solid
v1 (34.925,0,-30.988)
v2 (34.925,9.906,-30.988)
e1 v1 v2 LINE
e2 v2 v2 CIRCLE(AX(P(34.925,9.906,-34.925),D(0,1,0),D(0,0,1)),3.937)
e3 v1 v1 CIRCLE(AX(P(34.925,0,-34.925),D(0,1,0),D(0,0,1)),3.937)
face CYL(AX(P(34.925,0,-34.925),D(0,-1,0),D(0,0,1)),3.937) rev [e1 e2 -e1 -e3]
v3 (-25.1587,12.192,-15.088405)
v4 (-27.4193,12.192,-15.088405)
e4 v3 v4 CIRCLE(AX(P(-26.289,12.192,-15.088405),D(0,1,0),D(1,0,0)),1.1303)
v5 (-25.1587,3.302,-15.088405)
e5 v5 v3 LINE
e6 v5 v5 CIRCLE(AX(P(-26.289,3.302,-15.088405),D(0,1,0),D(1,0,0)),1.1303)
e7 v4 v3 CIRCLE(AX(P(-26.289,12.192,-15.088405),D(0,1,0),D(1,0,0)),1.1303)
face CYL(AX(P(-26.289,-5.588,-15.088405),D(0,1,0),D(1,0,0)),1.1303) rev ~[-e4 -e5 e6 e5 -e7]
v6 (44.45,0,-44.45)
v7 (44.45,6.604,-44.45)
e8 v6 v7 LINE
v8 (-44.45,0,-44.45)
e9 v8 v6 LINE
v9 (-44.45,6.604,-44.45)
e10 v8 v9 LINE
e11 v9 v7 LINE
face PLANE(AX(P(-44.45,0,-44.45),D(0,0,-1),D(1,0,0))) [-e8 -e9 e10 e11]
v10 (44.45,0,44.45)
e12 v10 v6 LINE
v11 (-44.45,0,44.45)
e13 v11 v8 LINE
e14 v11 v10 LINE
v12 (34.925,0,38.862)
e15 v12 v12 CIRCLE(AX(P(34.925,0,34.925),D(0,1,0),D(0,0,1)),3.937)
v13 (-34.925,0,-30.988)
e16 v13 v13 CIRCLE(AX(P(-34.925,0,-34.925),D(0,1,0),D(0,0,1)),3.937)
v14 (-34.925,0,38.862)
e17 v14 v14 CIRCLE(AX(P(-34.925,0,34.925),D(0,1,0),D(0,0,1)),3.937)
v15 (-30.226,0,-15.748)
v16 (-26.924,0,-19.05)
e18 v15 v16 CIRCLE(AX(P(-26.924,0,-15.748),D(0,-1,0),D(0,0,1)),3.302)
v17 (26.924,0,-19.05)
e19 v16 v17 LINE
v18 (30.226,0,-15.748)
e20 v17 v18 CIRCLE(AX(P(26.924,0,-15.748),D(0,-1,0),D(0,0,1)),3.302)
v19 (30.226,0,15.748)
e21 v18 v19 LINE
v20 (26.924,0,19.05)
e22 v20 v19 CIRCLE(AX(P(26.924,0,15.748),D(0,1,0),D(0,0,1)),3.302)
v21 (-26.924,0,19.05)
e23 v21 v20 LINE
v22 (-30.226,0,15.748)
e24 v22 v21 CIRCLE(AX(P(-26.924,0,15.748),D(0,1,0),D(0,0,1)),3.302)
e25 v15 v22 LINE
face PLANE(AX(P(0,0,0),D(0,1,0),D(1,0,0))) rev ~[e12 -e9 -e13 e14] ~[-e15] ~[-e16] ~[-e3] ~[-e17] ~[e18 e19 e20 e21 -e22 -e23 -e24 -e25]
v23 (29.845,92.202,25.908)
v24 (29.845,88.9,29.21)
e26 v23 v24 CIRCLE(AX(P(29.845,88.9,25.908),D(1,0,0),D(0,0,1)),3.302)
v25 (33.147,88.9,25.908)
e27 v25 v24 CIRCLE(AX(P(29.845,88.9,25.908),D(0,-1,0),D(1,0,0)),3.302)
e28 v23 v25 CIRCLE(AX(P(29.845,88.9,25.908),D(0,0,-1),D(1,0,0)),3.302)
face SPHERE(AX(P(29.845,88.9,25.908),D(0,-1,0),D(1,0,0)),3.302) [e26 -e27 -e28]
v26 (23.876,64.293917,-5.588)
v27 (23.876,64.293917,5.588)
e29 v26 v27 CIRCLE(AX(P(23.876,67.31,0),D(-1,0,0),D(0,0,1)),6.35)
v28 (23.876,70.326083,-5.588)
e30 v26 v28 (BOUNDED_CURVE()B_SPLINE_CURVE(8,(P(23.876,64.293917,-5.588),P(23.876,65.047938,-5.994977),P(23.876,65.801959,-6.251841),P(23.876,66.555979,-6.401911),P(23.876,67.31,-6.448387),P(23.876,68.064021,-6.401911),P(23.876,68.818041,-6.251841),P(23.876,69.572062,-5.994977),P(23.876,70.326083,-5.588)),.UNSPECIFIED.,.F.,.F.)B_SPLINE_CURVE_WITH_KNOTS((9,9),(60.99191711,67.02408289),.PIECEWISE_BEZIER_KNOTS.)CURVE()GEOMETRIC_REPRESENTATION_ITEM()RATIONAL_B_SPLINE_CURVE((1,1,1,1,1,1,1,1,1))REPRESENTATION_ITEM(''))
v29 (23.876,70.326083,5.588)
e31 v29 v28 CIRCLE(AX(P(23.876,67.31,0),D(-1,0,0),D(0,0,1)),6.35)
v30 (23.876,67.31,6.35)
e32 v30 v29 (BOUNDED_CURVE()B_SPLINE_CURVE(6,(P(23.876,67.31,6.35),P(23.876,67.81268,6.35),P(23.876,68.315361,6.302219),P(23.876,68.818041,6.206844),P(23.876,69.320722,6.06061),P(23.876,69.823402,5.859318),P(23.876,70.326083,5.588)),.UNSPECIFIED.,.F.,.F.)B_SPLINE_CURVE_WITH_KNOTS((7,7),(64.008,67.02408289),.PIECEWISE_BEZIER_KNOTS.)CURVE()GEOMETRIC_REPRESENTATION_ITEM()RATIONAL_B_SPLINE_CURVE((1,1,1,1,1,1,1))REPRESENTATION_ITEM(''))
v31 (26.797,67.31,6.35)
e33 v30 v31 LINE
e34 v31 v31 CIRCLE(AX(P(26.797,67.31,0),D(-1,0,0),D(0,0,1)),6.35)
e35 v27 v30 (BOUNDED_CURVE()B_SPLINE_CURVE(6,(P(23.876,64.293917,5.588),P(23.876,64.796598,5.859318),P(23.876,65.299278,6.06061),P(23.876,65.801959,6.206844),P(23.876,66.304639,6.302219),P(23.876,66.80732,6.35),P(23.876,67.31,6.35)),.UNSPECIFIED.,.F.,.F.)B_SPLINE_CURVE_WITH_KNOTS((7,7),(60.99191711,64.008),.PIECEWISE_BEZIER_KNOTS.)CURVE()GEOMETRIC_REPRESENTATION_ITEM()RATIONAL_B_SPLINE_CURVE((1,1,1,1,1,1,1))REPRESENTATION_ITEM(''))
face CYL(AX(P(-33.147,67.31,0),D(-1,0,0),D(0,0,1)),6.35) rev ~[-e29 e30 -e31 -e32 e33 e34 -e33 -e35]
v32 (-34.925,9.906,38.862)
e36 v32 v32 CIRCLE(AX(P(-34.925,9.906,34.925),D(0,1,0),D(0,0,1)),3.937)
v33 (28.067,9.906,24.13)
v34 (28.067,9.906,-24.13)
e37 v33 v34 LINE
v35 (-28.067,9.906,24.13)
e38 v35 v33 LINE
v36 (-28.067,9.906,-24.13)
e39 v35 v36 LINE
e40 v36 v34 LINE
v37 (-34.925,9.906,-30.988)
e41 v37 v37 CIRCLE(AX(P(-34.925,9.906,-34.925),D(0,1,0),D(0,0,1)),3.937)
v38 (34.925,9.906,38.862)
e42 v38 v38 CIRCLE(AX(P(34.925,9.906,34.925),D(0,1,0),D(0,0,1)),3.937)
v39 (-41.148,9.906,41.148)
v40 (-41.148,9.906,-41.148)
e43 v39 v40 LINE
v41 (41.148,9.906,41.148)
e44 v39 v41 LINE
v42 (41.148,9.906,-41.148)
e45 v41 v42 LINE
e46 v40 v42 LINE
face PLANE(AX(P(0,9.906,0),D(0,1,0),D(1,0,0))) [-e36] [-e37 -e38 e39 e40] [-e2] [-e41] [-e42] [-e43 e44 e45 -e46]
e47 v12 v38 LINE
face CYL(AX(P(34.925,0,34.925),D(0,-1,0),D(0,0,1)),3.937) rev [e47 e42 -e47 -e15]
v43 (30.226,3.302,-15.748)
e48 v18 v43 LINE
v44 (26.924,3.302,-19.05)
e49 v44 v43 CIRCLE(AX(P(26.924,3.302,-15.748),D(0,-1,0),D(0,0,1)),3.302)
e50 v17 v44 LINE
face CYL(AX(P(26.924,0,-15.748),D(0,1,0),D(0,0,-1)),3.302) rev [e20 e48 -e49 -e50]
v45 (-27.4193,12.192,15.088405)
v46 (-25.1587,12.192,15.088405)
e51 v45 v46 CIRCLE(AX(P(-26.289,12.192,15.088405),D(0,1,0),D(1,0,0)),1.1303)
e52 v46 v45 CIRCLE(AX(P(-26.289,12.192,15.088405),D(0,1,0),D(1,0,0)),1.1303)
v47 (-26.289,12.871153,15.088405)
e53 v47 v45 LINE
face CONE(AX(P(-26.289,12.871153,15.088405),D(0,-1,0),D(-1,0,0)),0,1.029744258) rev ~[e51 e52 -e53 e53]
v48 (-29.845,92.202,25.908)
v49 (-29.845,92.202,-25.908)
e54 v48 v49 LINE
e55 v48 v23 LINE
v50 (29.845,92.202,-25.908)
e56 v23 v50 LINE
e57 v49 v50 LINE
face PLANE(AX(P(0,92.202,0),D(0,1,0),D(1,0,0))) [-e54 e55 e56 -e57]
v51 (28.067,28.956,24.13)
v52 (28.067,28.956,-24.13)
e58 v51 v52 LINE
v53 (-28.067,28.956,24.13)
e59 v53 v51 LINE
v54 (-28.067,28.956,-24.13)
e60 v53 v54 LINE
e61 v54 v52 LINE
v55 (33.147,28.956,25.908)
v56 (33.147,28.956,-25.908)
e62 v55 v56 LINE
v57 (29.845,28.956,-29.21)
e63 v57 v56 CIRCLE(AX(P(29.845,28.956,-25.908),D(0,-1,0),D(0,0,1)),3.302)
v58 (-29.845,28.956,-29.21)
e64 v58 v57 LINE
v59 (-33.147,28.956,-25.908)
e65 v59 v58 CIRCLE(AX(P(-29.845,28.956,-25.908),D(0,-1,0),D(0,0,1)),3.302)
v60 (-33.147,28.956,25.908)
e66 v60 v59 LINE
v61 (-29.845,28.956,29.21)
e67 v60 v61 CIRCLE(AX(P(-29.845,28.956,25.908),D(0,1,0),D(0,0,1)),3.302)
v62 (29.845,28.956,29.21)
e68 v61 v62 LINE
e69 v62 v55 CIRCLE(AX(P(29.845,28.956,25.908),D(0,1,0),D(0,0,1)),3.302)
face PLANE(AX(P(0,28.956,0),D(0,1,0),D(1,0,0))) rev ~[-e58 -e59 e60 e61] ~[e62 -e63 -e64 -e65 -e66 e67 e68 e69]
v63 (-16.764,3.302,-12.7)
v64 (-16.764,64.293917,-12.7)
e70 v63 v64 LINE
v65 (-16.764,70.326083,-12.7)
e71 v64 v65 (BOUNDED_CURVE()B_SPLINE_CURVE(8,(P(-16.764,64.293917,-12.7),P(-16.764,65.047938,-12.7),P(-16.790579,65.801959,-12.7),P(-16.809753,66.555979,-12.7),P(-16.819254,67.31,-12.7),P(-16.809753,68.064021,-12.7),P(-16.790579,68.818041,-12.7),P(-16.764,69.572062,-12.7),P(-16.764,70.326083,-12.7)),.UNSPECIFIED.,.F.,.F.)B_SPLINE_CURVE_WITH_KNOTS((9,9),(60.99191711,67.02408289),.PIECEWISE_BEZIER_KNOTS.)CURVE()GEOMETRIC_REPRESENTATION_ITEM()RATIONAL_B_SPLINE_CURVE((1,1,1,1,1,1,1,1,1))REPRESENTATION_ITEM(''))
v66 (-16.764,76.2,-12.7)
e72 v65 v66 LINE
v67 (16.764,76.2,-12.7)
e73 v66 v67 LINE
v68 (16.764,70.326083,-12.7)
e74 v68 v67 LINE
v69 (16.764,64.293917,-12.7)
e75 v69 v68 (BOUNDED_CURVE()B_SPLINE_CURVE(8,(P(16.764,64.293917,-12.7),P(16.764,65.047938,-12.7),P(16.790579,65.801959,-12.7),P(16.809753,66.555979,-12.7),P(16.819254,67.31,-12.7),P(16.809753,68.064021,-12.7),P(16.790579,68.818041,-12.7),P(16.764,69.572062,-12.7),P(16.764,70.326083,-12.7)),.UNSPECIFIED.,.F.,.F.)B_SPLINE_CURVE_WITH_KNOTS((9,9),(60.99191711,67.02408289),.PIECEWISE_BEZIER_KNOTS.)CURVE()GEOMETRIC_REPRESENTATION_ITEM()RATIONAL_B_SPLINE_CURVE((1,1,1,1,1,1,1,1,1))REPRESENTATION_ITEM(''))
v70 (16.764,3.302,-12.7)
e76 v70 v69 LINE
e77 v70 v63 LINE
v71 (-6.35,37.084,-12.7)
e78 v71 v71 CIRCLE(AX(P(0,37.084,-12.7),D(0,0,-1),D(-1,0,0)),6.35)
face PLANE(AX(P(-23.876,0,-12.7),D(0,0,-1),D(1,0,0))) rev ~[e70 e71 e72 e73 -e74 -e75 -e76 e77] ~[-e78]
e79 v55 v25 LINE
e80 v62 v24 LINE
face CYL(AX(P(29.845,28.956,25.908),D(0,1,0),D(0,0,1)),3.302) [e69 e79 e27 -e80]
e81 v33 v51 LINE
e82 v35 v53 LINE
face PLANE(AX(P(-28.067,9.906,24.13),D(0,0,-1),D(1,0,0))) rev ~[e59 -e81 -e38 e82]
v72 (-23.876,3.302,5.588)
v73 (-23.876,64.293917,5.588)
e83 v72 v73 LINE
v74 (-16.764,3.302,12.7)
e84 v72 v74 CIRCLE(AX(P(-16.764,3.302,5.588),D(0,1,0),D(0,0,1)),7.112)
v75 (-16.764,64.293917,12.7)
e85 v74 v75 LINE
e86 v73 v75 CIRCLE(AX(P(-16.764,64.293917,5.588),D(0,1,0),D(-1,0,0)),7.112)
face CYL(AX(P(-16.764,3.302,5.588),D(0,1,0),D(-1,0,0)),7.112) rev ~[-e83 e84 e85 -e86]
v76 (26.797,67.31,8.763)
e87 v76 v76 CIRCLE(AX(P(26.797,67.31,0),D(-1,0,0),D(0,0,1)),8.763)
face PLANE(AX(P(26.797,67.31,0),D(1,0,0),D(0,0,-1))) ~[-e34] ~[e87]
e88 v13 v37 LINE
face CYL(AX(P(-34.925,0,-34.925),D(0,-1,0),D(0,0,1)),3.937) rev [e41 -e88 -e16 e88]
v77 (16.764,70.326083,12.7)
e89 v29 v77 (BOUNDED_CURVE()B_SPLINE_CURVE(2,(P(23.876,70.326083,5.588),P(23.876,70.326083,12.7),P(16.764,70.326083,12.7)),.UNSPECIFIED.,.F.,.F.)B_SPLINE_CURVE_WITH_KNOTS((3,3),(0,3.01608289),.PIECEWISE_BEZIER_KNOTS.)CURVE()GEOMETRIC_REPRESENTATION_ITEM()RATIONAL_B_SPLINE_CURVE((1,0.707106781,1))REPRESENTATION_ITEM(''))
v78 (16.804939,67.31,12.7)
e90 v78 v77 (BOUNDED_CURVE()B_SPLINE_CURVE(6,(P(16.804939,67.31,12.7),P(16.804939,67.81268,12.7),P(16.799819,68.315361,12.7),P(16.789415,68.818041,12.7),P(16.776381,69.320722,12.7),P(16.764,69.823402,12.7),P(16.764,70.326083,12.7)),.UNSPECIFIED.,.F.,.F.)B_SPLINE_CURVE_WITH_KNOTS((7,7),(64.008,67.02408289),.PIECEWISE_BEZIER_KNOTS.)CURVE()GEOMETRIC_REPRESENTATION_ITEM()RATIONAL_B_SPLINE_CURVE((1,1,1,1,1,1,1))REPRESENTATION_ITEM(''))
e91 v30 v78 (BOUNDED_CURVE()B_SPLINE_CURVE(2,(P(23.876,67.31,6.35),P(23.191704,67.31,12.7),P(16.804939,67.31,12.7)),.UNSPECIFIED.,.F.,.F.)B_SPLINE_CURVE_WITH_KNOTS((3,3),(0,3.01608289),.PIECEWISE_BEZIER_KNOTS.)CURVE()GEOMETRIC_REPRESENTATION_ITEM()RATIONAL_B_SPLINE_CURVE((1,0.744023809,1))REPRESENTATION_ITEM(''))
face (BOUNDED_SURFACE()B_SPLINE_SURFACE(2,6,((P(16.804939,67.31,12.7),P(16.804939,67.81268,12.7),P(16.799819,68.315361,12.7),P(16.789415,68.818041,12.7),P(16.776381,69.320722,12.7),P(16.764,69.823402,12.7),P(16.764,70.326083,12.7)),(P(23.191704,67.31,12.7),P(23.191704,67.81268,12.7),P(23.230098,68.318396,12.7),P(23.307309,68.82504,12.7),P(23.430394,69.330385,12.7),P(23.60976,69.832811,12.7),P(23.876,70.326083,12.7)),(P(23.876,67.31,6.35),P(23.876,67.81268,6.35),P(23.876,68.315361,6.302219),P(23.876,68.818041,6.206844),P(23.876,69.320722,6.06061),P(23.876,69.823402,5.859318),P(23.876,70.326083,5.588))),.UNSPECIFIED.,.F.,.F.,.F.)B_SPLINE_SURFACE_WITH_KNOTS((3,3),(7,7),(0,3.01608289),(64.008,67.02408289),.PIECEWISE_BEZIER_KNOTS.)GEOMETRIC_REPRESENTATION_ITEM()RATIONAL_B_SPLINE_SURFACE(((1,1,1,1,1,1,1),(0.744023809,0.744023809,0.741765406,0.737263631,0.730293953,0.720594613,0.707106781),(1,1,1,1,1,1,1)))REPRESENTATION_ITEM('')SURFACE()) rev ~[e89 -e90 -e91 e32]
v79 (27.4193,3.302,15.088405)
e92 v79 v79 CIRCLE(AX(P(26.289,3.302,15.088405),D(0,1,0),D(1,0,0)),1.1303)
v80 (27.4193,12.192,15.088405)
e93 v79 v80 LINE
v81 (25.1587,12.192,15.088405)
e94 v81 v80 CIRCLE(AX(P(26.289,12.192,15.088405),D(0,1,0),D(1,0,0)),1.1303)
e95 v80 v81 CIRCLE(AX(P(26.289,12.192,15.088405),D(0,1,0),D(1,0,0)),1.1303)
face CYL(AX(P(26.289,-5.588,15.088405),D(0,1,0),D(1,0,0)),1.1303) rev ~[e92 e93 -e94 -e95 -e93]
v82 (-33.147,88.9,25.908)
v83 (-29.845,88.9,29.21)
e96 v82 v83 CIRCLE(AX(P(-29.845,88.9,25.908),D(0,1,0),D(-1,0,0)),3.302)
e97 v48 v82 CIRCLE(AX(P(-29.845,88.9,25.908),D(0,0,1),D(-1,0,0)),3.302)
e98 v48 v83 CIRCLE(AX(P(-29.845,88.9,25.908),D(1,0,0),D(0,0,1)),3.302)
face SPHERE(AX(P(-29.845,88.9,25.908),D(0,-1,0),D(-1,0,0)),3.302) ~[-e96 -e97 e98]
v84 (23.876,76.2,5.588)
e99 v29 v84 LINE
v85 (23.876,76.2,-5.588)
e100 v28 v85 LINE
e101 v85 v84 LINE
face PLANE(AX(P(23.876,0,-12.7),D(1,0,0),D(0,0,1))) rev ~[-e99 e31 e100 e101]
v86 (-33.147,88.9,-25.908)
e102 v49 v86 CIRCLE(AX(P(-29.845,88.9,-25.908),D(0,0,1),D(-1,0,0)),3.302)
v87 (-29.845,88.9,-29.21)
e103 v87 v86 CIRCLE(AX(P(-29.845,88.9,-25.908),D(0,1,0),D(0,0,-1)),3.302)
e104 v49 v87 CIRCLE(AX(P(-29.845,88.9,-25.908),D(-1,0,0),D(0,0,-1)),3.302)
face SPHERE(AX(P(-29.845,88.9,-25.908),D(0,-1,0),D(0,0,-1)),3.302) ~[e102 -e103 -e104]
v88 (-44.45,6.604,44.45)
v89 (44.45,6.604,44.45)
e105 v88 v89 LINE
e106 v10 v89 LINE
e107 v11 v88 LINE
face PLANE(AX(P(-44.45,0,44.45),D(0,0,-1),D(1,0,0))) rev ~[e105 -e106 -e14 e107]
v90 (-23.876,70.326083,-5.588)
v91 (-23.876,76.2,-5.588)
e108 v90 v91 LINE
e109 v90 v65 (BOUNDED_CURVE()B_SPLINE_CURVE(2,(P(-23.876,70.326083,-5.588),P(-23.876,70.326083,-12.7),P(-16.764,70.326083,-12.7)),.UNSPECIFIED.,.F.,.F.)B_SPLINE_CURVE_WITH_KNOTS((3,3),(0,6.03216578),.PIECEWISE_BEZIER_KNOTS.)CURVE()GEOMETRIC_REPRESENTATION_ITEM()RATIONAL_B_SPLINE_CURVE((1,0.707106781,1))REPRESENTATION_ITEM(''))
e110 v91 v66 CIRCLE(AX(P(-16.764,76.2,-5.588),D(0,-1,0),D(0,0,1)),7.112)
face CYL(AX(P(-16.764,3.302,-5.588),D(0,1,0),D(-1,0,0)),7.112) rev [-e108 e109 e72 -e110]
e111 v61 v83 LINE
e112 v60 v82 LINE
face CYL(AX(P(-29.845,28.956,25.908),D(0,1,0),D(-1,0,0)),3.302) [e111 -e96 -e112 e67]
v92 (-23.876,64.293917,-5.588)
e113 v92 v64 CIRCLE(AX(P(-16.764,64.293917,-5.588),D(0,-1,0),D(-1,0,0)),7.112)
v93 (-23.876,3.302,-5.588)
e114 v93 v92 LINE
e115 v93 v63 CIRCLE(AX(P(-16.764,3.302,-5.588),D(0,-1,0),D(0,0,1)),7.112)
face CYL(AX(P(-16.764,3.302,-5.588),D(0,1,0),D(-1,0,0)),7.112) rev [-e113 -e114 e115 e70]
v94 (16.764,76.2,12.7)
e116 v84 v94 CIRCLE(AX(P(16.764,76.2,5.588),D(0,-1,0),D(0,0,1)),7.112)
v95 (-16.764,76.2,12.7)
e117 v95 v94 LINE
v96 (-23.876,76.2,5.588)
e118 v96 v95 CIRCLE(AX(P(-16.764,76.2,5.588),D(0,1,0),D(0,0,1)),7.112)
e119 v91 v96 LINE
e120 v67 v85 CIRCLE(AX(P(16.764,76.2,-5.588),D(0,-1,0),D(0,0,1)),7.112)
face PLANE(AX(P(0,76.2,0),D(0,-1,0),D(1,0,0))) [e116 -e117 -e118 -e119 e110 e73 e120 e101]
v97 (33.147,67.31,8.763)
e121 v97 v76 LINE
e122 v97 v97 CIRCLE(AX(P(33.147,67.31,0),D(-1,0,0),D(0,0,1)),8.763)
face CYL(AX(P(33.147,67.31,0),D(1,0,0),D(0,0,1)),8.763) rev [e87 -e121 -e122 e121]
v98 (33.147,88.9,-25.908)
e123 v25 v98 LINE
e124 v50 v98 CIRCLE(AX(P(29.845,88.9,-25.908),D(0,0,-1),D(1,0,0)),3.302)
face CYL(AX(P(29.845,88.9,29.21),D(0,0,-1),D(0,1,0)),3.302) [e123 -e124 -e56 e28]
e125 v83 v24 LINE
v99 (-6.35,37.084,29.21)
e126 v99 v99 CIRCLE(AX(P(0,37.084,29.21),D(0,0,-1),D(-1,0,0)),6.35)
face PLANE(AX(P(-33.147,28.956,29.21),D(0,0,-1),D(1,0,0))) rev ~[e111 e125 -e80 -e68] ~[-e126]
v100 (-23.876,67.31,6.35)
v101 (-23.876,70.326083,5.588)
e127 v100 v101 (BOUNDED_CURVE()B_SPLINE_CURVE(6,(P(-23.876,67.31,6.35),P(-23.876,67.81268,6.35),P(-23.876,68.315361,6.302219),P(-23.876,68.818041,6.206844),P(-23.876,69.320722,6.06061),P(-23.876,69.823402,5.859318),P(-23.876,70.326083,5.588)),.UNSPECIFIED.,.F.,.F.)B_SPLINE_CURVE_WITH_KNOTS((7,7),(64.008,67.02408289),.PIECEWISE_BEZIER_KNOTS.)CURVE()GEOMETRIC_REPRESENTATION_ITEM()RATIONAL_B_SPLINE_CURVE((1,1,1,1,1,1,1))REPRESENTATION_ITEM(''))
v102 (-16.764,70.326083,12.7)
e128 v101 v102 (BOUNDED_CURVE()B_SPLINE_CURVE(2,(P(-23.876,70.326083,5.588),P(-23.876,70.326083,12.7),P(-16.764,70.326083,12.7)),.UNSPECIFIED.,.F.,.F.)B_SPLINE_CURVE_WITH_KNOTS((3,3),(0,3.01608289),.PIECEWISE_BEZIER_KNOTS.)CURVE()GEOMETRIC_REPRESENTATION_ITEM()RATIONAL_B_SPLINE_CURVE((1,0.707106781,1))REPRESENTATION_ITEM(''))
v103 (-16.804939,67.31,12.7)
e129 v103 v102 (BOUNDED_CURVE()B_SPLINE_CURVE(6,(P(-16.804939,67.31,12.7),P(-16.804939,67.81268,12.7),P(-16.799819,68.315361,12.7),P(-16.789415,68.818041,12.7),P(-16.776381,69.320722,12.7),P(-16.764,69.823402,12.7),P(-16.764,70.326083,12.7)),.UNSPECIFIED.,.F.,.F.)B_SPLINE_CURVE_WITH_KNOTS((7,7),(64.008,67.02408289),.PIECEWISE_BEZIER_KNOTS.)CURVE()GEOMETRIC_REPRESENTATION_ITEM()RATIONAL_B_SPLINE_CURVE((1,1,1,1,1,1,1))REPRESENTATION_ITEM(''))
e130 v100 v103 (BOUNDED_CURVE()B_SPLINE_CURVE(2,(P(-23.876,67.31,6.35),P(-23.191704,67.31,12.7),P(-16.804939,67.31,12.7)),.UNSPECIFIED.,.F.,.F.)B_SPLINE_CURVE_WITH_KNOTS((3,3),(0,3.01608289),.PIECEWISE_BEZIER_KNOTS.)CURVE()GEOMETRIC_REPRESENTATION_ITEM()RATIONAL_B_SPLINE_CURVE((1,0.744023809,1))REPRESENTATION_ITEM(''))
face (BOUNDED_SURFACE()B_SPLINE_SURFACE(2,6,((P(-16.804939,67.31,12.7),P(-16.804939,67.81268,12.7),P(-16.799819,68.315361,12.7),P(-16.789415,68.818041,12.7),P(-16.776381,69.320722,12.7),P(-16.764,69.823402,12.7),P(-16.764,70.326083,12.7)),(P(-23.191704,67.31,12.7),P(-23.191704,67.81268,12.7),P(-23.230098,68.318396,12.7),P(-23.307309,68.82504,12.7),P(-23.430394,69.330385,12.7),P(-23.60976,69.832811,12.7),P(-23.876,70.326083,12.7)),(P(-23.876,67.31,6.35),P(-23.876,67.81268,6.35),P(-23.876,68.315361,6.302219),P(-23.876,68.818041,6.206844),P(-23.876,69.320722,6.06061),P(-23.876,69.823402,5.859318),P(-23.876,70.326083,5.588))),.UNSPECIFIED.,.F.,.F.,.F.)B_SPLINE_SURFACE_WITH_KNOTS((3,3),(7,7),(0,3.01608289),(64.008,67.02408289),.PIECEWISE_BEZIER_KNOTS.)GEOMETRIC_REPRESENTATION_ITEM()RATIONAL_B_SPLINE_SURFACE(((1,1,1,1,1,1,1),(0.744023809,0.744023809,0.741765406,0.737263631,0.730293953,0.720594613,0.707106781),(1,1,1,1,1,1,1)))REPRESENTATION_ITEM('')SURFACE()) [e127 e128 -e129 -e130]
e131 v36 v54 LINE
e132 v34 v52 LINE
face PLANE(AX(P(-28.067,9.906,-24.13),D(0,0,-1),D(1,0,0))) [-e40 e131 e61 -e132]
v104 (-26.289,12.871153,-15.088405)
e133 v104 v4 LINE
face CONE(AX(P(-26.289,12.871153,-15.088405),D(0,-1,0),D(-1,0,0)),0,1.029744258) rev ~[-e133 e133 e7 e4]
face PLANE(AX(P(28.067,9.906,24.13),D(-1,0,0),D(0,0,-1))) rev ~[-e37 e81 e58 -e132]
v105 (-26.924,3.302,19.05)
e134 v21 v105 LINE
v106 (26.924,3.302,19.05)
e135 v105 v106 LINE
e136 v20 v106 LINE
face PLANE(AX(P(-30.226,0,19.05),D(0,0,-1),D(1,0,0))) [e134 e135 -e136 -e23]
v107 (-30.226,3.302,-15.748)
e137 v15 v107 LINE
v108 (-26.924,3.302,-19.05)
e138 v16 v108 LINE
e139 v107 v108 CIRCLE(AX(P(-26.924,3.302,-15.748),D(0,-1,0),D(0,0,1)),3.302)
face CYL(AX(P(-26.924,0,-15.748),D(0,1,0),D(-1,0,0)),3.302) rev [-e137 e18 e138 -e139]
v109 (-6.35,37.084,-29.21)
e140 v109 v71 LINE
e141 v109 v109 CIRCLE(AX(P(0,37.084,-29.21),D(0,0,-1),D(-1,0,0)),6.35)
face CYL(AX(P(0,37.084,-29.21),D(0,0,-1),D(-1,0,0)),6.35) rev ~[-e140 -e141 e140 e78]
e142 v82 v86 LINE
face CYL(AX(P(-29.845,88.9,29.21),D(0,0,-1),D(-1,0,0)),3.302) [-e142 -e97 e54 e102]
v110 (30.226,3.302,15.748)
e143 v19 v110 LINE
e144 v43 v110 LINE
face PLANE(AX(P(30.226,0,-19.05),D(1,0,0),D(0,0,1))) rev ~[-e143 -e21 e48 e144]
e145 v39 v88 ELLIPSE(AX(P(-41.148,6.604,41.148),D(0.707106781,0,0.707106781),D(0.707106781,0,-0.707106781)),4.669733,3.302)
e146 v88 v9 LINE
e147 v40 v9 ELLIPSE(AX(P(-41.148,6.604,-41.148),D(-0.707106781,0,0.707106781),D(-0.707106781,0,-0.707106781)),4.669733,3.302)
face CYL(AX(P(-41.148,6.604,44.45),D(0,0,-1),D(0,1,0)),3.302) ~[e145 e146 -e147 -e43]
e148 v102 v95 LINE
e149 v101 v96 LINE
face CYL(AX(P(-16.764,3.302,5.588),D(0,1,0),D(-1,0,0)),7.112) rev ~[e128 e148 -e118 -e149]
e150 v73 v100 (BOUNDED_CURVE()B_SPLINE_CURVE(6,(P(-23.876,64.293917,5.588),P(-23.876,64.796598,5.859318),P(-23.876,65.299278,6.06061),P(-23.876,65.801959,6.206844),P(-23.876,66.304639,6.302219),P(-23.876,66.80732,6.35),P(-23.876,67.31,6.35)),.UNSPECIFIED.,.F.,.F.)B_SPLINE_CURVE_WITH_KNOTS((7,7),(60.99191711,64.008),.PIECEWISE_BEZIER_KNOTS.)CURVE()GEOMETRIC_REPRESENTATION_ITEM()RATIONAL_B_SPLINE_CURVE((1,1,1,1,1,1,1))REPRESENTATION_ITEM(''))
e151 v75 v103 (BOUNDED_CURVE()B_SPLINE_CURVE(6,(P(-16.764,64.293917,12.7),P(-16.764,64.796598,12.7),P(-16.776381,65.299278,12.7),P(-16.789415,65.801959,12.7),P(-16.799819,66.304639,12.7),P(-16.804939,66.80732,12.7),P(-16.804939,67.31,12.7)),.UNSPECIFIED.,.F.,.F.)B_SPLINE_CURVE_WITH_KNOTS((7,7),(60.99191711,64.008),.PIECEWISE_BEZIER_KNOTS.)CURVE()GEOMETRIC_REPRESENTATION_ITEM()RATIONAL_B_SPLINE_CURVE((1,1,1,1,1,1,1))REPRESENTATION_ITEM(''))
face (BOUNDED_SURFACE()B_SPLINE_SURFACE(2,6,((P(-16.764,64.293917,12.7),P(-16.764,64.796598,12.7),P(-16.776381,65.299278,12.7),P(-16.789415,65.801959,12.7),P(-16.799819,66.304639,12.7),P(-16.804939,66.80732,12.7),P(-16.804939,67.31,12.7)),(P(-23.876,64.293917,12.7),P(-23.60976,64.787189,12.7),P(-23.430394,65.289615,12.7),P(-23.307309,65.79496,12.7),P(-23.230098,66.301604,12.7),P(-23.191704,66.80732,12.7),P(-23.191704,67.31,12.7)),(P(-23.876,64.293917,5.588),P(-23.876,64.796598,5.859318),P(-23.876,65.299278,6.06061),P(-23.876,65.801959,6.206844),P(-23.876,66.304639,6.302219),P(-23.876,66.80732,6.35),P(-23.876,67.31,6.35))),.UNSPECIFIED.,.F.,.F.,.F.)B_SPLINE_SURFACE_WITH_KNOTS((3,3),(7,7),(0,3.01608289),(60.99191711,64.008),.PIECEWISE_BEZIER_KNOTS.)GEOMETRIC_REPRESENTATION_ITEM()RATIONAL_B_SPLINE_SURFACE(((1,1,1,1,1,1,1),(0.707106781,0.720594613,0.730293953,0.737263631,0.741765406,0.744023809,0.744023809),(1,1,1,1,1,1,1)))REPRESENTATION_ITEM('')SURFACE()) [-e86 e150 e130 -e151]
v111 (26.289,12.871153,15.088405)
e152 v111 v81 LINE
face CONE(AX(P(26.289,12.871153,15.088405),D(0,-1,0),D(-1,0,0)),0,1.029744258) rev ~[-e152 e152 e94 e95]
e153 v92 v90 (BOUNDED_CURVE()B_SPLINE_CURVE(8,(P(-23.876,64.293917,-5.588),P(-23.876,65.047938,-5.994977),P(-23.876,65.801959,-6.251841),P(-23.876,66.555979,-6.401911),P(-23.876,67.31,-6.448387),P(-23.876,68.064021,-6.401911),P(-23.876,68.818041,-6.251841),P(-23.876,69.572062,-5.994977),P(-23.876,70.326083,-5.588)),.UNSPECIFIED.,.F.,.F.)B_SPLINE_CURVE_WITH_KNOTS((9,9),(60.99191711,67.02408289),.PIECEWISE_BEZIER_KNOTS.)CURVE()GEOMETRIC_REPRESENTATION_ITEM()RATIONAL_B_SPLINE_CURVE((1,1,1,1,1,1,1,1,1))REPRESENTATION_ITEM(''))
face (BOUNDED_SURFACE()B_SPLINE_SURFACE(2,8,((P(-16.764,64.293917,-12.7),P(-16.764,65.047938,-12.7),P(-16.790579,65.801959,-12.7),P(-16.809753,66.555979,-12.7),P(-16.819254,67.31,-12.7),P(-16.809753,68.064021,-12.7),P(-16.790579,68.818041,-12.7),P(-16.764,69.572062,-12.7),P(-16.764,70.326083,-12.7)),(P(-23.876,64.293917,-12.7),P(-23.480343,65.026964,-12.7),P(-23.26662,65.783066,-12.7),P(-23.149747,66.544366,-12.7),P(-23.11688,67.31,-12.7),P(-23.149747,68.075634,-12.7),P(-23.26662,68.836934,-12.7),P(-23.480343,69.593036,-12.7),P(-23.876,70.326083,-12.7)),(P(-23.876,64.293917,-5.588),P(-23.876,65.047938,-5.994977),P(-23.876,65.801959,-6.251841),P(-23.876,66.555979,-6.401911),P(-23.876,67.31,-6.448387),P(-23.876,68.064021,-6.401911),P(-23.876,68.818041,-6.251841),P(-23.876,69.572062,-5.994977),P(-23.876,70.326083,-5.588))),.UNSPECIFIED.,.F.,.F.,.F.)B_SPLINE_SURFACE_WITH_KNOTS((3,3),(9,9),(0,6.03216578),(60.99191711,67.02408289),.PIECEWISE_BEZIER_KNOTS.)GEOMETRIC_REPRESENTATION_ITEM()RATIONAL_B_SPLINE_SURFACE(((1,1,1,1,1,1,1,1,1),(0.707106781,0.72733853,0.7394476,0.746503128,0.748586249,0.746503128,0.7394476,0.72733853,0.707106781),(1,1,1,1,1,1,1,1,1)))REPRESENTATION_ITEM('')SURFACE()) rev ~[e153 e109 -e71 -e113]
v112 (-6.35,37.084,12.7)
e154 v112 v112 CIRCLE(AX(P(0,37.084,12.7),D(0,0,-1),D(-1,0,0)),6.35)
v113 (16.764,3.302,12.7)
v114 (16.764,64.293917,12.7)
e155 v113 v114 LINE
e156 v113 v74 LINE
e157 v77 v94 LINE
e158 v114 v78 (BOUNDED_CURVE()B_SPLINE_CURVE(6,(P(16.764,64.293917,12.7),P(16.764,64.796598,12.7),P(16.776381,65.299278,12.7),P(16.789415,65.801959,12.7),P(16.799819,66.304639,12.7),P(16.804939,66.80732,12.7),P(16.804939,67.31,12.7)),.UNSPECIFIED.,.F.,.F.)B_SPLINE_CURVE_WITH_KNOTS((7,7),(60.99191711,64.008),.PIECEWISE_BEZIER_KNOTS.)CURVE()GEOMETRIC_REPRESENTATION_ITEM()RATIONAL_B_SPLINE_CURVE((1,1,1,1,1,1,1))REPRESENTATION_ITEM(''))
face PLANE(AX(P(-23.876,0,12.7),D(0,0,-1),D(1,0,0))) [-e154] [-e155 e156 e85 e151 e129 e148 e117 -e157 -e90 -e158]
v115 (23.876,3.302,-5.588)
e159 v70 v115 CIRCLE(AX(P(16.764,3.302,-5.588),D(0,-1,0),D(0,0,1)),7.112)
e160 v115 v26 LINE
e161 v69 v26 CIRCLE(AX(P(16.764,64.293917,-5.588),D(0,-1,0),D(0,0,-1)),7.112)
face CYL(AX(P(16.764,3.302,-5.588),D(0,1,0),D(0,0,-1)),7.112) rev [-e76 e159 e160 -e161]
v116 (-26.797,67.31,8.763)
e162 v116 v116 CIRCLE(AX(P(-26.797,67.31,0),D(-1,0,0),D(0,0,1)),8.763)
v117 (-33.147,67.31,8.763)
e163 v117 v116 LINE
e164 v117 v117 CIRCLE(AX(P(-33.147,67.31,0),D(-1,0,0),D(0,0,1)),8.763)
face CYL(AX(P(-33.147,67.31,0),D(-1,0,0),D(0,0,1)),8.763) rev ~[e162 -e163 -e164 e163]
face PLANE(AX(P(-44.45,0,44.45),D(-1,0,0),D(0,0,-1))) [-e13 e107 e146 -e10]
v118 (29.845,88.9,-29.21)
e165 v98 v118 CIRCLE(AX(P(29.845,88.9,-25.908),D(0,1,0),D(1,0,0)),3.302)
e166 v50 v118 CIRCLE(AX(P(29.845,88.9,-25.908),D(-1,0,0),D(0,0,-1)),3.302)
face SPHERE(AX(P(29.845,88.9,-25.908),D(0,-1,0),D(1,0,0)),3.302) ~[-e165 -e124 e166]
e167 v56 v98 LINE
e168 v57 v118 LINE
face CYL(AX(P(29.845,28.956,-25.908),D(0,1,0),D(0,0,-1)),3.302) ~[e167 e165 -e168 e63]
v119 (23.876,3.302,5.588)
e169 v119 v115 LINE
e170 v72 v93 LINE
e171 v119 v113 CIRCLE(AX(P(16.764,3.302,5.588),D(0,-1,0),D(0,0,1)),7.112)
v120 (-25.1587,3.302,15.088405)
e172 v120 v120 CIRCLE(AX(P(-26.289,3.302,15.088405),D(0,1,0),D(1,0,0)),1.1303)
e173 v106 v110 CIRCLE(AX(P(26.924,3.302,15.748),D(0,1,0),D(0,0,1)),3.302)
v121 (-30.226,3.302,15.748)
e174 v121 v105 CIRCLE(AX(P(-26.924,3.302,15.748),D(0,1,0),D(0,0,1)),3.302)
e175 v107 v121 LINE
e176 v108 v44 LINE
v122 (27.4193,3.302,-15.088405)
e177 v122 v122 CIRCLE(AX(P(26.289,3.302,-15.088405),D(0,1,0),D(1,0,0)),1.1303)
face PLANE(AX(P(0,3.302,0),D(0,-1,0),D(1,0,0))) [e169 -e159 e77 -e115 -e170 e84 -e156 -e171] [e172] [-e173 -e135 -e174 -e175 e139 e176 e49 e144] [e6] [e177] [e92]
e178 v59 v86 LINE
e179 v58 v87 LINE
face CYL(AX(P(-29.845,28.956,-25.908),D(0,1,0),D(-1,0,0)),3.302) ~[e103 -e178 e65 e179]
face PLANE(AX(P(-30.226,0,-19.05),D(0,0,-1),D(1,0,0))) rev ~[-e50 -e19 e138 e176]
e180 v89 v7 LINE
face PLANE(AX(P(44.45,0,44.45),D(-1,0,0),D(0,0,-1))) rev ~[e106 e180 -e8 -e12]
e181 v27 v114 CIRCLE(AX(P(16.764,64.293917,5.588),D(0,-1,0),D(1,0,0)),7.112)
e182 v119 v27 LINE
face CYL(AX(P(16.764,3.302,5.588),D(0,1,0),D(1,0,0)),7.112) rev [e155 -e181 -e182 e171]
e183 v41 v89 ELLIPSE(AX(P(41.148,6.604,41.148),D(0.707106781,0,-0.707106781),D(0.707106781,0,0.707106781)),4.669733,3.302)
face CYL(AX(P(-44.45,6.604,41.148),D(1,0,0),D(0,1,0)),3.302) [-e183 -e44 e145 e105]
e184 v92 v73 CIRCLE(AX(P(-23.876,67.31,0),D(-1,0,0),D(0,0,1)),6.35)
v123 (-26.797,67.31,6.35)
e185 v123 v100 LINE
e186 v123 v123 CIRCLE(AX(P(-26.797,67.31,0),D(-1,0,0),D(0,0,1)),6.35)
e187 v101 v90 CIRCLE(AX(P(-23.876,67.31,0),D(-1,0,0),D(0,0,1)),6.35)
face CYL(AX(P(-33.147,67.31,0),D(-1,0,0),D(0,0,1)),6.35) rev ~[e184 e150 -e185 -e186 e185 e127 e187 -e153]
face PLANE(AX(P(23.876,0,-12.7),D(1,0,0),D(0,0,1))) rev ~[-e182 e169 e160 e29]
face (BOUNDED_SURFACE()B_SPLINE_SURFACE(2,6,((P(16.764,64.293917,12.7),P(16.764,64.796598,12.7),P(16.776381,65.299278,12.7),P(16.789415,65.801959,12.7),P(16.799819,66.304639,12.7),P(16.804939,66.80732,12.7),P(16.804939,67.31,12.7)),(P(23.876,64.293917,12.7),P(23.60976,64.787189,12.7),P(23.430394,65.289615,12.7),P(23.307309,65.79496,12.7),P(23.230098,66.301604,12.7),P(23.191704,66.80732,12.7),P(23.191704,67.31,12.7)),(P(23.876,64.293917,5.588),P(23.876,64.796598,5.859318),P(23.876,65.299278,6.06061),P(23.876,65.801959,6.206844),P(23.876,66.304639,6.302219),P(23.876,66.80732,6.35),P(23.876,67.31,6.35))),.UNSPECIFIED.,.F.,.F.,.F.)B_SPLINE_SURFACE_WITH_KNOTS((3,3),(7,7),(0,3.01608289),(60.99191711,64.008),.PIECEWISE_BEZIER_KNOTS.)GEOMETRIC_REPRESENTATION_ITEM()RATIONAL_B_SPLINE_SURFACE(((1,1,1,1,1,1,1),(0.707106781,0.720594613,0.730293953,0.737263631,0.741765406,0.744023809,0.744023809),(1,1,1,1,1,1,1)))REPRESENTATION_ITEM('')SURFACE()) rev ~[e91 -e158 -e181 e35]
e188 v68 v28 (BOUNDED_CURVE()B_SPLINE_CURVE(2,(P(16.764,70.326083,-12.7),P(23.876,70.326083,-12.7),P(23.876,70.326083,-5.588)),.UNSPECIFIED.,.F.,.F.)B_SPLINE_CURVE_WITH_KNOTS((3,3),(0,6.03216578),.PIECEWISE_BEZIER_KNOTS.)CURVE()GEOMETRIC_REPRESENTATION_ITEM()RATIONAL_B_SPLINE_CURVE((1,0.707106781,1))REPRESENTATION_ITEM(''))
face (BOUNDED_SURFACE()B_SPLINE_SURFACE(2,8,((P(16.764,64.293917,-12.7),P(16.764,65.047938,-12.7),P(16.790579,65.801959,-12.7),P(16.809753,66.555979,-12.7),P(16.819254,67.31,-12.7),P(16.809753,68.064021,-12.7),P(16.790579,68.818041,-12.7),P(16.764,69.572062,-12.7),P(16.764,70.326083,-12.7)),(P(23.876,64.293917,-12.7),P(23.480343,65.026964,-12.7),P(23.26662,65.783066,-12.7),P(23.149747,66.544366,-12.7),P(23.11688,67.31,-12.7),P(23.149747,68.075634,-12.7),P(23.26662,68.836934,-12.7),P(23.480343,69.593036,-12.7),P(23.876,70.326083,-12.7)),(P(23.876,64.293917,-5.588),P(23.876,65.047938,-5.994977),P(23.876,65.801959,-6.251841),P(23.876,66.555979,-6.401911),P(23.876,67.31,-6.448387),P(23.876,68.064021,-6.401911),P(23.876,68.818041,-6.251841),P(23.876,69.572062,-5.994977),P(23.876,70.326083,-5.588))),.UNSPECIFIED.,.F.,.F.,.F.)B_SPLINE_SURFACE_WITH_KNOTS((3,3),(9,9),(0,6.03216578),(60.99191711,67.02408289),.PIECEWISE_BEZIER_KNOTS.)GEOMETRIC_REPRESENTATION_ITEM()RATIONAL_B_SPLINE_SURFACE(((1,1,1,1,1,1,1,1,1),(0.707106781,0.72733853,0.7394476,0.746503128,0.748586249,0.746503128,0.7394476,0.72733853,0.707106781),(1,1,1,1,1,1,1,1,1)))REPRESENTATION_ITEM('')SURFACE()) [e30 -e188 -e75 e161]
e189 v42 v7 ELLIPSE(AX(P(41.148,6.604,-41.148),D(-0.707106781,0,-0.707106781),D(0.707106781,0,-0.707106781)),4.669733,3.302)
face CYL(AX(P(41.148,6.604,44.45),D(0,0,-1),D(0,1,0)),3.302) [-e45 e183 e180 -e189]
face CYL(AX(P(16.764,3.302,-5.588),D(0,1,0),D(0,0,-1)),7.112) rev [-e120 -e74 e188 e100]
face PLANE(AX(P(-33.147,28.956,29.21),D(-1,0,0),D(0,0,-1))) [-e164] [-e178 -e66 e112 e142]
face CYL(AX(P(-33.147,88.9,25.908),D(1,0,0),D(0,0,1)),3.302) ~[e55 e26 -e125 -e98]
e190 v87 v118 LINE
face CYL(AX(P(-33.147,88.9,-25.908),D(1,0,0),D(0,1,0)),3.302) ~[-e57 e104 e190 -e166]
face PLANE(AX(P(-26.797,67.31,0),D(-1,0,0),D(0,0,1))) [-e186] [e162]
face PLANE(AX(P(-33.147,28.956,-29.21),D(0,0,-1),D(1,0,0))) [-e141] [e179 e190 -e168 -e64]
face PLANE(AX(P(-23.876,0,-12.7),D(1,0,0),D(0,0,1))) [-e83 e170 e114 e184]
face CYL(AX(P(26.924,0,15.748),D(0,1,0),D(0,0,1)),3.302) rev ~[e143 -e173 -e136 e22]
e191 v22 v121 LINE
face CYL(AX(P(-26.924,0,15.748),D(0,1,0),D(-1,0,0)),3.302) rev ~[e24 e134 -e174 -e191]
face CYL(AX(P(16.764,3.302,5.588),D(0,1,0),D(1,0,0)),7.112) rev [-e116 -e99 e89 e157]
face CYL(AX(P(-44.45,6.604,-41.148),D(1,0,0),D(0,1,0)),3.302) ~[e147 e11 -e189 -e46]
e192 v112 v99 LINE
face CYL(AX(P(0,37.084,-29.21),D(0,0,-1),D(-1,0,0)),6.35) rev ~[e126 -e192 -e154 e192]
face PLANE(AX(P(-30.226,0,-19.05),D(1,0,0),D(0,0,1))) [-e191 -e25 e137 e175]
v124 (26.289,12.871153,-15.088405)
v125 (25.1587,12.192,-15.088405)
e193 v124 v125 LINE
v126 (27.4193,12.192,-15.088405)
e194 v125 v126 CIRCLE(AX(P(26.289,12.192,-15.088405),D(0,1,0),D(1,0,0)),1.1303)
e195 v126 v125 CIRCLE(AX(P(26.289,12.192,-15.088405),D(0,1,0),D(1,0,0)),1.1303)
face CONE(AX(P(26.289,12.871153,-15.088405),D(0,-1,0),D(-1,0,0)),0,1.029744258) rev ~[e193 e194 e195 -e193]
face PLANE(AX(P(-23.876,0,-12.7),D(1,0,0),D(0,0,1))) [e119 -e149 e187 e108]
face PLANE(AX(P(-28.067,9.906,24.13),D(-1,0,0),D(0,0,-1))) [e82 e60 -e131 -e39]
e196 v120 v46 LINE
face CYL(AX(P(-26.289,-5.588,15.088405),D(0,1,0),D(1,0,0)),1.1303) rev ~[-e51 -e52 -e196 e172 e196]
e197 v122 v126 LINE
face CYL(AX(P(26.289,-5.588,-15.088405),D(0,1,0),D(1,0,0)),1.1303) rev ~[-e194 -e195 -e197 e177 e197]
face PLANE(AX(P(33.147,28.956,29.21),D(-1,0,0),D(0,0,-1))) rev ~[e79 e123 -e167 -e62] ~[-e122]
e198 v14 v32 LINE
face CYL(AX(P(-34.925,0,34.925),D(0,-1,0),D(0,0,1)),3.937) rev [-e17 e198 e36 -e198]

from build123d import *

# Parameters (mm, degrees)
SKETCH1_W                 = 88.9
SKETCH1_H                 = 88.9
SKETCH1_R                 = 3.937
BOSS_EXTRUDE1_DEPTH       = 9.906
SKETCH2_W                 = 56.134
SKETCH2_H                 = 48.26
BOSS_EXTRUDE2_DEPTH       = 19.05
SKETCH3_W                 = 66.294
SKETCH3_H                 = 58.42
BOSS_EXTRUDE3_DEPTH       = 63.246
SKETCH4_W                 = 47.752
SKETCH4_H                 = 25.4
CUT_EXTRUDE1_DEPTH        = 76.2
SKETCH5_W                 = 60.452
SKETCH5_H                 = 38.1
CUT_EXTRUDE2_DEPTH        = 3.302
SKETCH6_R                 = 6.35
CUT_EXTRUDE3_DEPTH        = 129.445730614
SKETCH6_3_R               = 8.763
SKETCH6_3_R_2             = 6.35
CUT_EXTRUDE4_DEPTH        = 6.35
SKETCH8_R                 = 6.35
CUT_EXTRUDE5_DEPTH        = 127.106331736
FILLET1_R                 = 3.302
FILLET2_R                 = 3.302
FILLET3_R                 = 7.112
F_4_40_TAPPED_HOLE2_D     = 2.2606
F_4_40_TAPPED_HOLE2_DEPTH = 8.89
F_4_40_TAPPED_HOLE2_TIP   = 0.679152758


with BuildPart() as part:
    # Sketch1 → Boss-Extrude1 (new body)
    with BuildSketch(Plane(origin=(0, 0, 0), x_dir=(1, 0, 0), z_dir=(0, 1, 0))):
        Rectangle(SKETCH1_W, SKETCH1_H)
        with Locations((-34.925, 34.925)):
            Circle(SKETCH1_R, mode=Mode.SUBTRACT)
        with Locations((-34.925, -34.925)):
            Circle(SKETCH1_R, mode=Mode.SUBTRACT)
        with Locations((34.925, 34.925)):
            Circle(SKETCH1_R, mode=Mode.SUBTRACT)
        with Locations((34.925, -34.925)):
            Circle(SKETCH1_R, mode=Mode.SUBTRACT)
    extrude(amount=BOSS_EXTRUDE1_DEPTH)

    # Sketch2 → Boss-Extrude2 (add)
    with BuildSketch(Plane(origin=(0, 9.906, 0), x_dir=(1, 0, 0), z_dir=(0, 1, 0))):
        Rectangle(SKETCH2_W, SKETCH2_H)
    extrude(amount=BOSS_EXTRUDE2_DEPTH)

    # Sketch3 → Boss-Extrude3 (add)
    with BuildSketch(Plane(origin=(0, 28.956, 0), x_dir=(1, 0, 0), z_dir=(0, 1, 0))):
        Rectangle(SKETCH3_W, SKETCH3_H)
    extrude(amount=BOSS_EXTRUDE3_DEPTH)

    # Sketch4 → Cut-Extrude1 (cut)
    with BuildSketch(Plane.XZ):
        Rectangle(SKETCH4_W, SKETCH4_H)
    extrude(amount=-CUT_EXTRUDE1_DEPTH, mode=Mode.SUBTRACT)

    # Sketch5 → Cut-Extrude2 (cut)
    with BuildSketch(Plane.XZ):
        Rectangle(SKETCH5_W, SKETCH5_H)
    extrude(amount=-CUT_EXTRUDE2_DEPTH, mode=Mode.SUBTRACT)

    # Sketch6 → Cut-Extrude3 (cut, through all)
    with BuildSketch(Plane.ZY.offset(33.147)):
        with Locations((0, 67.31)):
            Circle(SKETCH6_R)
    extrude(amount=-CUT_EXTRUDE3_DEPTH, mode=Mode.SUBTRACT)

    # Sketch6<3> → Cut-Extrude4 (cut)
    with BuildSketch(Plane.ZY.offset(33.147)):
        with Locations((0, 67.31)):
            Circle(SKETCH6_3_R)
        with Locations((0, 67.31)):
            Circle(SKETCH6_3_R_2, mode=Mode.SUBTRACT)
    cut_extrude4 = extrude(amount=-CUT_EXTRUDE4_DEPTH, mode=Mode.SUBTRACT)

    # Mirror1: Cut-Extrude4 across plane
    add(cut_extrude4.mirror(Plane(origin=(0, 0, 0), x_dir=(0, 0, 1), z_dir=(1, 0, 0))), mode=Mode.SUBTRACT)

    # Sketch8 → Cut-Extrude5 (cut, through all)
    with BuildSketch(Plane(origin=(0, 0, -29.21), x_dir=(-1, 0, 0), z_dir=(0, 0, -1))):
        with Locations((0, 37.084)):
            Circle(SKETCH8_R)
    extrude(amount=-CUT_EXTRUDE5_DEPTH, mode=Mode.SUBTRACT)

    # Fillet1
    fillet1_edges = [part.edges().sort_by_distance(p)[0] for p in [
        (0, 92.202, 29.21),
        (-33.147, 92.202, 0),
        (0, 92.202, -29.21),
        (33.147, 92.202, 0),
        (-44.45, 9.906, 0),
        (0, 9.906, 44.45),
        (44.45, 9.906, 0),
        (0, 9.906, -44.45),
        (-33.147, 60.579, -29.21),
        (-33.147, 60.579, 29.21),
        (33.147, 60.579, 29.21),
        (33.147, 60.579, -29.21),
    ]]
    fillet(fillet1_edges, radius=FILLET1_R)

    # Fillet2
    fillet2_edges = [part.edges().sort_by_distance(p)[0] for p in [
        (-30.226, 1.651, -19.05),
        (30.226, 1.651, -19.05),
        (30.226, 1.651, 19.05),
        (-30.226, 1.651, 19.05),
    ]]
    fillet(fillet2_edges, radius=FILLET2_R)

    # Fillet3
    fillet3_edges = [part.edges().sort_by_distance(p)[0] for p in [
        (-23.876, 39.751, -12.7),
        (23.876, 39.751, -12.7),
        (23.876, 39.751, 12.7),
        (-23.876, 39.751, 12.7),
    ]]
    fillet(fillet3_edges, radius=FILLET3_R)

    # #4-40 Tapped Hole2
    with Locations(Plane(origin=(0, 3.302, 0), x_dir=(-1, 0, 0), z_dir=(0, -1, 0))):
        with Locations((26.289, -15.08840493), (-26.289, -15.08840493), (-26.289, 15.08840493), (26.289, 15.08840493)):
            Hole(F_4_40_TAPPED_HOLE2_D / 2, depth=F_4_40_TAPPED_HOLE2_DEPTH)
            with Locations((0, 0, -(F_4_40_TAPPED_HOLE2_DEPTH + F_4_40_TAPPED_HOLE2_TIP / 2))):  # 118° drill point
                Cone(0, F_4_40_TAPPED_HOLE2_D / 2, F_4_40_TAPPED_HOLE2_TIP, mode=Mode.SUBTRACT)


solid = part.part
